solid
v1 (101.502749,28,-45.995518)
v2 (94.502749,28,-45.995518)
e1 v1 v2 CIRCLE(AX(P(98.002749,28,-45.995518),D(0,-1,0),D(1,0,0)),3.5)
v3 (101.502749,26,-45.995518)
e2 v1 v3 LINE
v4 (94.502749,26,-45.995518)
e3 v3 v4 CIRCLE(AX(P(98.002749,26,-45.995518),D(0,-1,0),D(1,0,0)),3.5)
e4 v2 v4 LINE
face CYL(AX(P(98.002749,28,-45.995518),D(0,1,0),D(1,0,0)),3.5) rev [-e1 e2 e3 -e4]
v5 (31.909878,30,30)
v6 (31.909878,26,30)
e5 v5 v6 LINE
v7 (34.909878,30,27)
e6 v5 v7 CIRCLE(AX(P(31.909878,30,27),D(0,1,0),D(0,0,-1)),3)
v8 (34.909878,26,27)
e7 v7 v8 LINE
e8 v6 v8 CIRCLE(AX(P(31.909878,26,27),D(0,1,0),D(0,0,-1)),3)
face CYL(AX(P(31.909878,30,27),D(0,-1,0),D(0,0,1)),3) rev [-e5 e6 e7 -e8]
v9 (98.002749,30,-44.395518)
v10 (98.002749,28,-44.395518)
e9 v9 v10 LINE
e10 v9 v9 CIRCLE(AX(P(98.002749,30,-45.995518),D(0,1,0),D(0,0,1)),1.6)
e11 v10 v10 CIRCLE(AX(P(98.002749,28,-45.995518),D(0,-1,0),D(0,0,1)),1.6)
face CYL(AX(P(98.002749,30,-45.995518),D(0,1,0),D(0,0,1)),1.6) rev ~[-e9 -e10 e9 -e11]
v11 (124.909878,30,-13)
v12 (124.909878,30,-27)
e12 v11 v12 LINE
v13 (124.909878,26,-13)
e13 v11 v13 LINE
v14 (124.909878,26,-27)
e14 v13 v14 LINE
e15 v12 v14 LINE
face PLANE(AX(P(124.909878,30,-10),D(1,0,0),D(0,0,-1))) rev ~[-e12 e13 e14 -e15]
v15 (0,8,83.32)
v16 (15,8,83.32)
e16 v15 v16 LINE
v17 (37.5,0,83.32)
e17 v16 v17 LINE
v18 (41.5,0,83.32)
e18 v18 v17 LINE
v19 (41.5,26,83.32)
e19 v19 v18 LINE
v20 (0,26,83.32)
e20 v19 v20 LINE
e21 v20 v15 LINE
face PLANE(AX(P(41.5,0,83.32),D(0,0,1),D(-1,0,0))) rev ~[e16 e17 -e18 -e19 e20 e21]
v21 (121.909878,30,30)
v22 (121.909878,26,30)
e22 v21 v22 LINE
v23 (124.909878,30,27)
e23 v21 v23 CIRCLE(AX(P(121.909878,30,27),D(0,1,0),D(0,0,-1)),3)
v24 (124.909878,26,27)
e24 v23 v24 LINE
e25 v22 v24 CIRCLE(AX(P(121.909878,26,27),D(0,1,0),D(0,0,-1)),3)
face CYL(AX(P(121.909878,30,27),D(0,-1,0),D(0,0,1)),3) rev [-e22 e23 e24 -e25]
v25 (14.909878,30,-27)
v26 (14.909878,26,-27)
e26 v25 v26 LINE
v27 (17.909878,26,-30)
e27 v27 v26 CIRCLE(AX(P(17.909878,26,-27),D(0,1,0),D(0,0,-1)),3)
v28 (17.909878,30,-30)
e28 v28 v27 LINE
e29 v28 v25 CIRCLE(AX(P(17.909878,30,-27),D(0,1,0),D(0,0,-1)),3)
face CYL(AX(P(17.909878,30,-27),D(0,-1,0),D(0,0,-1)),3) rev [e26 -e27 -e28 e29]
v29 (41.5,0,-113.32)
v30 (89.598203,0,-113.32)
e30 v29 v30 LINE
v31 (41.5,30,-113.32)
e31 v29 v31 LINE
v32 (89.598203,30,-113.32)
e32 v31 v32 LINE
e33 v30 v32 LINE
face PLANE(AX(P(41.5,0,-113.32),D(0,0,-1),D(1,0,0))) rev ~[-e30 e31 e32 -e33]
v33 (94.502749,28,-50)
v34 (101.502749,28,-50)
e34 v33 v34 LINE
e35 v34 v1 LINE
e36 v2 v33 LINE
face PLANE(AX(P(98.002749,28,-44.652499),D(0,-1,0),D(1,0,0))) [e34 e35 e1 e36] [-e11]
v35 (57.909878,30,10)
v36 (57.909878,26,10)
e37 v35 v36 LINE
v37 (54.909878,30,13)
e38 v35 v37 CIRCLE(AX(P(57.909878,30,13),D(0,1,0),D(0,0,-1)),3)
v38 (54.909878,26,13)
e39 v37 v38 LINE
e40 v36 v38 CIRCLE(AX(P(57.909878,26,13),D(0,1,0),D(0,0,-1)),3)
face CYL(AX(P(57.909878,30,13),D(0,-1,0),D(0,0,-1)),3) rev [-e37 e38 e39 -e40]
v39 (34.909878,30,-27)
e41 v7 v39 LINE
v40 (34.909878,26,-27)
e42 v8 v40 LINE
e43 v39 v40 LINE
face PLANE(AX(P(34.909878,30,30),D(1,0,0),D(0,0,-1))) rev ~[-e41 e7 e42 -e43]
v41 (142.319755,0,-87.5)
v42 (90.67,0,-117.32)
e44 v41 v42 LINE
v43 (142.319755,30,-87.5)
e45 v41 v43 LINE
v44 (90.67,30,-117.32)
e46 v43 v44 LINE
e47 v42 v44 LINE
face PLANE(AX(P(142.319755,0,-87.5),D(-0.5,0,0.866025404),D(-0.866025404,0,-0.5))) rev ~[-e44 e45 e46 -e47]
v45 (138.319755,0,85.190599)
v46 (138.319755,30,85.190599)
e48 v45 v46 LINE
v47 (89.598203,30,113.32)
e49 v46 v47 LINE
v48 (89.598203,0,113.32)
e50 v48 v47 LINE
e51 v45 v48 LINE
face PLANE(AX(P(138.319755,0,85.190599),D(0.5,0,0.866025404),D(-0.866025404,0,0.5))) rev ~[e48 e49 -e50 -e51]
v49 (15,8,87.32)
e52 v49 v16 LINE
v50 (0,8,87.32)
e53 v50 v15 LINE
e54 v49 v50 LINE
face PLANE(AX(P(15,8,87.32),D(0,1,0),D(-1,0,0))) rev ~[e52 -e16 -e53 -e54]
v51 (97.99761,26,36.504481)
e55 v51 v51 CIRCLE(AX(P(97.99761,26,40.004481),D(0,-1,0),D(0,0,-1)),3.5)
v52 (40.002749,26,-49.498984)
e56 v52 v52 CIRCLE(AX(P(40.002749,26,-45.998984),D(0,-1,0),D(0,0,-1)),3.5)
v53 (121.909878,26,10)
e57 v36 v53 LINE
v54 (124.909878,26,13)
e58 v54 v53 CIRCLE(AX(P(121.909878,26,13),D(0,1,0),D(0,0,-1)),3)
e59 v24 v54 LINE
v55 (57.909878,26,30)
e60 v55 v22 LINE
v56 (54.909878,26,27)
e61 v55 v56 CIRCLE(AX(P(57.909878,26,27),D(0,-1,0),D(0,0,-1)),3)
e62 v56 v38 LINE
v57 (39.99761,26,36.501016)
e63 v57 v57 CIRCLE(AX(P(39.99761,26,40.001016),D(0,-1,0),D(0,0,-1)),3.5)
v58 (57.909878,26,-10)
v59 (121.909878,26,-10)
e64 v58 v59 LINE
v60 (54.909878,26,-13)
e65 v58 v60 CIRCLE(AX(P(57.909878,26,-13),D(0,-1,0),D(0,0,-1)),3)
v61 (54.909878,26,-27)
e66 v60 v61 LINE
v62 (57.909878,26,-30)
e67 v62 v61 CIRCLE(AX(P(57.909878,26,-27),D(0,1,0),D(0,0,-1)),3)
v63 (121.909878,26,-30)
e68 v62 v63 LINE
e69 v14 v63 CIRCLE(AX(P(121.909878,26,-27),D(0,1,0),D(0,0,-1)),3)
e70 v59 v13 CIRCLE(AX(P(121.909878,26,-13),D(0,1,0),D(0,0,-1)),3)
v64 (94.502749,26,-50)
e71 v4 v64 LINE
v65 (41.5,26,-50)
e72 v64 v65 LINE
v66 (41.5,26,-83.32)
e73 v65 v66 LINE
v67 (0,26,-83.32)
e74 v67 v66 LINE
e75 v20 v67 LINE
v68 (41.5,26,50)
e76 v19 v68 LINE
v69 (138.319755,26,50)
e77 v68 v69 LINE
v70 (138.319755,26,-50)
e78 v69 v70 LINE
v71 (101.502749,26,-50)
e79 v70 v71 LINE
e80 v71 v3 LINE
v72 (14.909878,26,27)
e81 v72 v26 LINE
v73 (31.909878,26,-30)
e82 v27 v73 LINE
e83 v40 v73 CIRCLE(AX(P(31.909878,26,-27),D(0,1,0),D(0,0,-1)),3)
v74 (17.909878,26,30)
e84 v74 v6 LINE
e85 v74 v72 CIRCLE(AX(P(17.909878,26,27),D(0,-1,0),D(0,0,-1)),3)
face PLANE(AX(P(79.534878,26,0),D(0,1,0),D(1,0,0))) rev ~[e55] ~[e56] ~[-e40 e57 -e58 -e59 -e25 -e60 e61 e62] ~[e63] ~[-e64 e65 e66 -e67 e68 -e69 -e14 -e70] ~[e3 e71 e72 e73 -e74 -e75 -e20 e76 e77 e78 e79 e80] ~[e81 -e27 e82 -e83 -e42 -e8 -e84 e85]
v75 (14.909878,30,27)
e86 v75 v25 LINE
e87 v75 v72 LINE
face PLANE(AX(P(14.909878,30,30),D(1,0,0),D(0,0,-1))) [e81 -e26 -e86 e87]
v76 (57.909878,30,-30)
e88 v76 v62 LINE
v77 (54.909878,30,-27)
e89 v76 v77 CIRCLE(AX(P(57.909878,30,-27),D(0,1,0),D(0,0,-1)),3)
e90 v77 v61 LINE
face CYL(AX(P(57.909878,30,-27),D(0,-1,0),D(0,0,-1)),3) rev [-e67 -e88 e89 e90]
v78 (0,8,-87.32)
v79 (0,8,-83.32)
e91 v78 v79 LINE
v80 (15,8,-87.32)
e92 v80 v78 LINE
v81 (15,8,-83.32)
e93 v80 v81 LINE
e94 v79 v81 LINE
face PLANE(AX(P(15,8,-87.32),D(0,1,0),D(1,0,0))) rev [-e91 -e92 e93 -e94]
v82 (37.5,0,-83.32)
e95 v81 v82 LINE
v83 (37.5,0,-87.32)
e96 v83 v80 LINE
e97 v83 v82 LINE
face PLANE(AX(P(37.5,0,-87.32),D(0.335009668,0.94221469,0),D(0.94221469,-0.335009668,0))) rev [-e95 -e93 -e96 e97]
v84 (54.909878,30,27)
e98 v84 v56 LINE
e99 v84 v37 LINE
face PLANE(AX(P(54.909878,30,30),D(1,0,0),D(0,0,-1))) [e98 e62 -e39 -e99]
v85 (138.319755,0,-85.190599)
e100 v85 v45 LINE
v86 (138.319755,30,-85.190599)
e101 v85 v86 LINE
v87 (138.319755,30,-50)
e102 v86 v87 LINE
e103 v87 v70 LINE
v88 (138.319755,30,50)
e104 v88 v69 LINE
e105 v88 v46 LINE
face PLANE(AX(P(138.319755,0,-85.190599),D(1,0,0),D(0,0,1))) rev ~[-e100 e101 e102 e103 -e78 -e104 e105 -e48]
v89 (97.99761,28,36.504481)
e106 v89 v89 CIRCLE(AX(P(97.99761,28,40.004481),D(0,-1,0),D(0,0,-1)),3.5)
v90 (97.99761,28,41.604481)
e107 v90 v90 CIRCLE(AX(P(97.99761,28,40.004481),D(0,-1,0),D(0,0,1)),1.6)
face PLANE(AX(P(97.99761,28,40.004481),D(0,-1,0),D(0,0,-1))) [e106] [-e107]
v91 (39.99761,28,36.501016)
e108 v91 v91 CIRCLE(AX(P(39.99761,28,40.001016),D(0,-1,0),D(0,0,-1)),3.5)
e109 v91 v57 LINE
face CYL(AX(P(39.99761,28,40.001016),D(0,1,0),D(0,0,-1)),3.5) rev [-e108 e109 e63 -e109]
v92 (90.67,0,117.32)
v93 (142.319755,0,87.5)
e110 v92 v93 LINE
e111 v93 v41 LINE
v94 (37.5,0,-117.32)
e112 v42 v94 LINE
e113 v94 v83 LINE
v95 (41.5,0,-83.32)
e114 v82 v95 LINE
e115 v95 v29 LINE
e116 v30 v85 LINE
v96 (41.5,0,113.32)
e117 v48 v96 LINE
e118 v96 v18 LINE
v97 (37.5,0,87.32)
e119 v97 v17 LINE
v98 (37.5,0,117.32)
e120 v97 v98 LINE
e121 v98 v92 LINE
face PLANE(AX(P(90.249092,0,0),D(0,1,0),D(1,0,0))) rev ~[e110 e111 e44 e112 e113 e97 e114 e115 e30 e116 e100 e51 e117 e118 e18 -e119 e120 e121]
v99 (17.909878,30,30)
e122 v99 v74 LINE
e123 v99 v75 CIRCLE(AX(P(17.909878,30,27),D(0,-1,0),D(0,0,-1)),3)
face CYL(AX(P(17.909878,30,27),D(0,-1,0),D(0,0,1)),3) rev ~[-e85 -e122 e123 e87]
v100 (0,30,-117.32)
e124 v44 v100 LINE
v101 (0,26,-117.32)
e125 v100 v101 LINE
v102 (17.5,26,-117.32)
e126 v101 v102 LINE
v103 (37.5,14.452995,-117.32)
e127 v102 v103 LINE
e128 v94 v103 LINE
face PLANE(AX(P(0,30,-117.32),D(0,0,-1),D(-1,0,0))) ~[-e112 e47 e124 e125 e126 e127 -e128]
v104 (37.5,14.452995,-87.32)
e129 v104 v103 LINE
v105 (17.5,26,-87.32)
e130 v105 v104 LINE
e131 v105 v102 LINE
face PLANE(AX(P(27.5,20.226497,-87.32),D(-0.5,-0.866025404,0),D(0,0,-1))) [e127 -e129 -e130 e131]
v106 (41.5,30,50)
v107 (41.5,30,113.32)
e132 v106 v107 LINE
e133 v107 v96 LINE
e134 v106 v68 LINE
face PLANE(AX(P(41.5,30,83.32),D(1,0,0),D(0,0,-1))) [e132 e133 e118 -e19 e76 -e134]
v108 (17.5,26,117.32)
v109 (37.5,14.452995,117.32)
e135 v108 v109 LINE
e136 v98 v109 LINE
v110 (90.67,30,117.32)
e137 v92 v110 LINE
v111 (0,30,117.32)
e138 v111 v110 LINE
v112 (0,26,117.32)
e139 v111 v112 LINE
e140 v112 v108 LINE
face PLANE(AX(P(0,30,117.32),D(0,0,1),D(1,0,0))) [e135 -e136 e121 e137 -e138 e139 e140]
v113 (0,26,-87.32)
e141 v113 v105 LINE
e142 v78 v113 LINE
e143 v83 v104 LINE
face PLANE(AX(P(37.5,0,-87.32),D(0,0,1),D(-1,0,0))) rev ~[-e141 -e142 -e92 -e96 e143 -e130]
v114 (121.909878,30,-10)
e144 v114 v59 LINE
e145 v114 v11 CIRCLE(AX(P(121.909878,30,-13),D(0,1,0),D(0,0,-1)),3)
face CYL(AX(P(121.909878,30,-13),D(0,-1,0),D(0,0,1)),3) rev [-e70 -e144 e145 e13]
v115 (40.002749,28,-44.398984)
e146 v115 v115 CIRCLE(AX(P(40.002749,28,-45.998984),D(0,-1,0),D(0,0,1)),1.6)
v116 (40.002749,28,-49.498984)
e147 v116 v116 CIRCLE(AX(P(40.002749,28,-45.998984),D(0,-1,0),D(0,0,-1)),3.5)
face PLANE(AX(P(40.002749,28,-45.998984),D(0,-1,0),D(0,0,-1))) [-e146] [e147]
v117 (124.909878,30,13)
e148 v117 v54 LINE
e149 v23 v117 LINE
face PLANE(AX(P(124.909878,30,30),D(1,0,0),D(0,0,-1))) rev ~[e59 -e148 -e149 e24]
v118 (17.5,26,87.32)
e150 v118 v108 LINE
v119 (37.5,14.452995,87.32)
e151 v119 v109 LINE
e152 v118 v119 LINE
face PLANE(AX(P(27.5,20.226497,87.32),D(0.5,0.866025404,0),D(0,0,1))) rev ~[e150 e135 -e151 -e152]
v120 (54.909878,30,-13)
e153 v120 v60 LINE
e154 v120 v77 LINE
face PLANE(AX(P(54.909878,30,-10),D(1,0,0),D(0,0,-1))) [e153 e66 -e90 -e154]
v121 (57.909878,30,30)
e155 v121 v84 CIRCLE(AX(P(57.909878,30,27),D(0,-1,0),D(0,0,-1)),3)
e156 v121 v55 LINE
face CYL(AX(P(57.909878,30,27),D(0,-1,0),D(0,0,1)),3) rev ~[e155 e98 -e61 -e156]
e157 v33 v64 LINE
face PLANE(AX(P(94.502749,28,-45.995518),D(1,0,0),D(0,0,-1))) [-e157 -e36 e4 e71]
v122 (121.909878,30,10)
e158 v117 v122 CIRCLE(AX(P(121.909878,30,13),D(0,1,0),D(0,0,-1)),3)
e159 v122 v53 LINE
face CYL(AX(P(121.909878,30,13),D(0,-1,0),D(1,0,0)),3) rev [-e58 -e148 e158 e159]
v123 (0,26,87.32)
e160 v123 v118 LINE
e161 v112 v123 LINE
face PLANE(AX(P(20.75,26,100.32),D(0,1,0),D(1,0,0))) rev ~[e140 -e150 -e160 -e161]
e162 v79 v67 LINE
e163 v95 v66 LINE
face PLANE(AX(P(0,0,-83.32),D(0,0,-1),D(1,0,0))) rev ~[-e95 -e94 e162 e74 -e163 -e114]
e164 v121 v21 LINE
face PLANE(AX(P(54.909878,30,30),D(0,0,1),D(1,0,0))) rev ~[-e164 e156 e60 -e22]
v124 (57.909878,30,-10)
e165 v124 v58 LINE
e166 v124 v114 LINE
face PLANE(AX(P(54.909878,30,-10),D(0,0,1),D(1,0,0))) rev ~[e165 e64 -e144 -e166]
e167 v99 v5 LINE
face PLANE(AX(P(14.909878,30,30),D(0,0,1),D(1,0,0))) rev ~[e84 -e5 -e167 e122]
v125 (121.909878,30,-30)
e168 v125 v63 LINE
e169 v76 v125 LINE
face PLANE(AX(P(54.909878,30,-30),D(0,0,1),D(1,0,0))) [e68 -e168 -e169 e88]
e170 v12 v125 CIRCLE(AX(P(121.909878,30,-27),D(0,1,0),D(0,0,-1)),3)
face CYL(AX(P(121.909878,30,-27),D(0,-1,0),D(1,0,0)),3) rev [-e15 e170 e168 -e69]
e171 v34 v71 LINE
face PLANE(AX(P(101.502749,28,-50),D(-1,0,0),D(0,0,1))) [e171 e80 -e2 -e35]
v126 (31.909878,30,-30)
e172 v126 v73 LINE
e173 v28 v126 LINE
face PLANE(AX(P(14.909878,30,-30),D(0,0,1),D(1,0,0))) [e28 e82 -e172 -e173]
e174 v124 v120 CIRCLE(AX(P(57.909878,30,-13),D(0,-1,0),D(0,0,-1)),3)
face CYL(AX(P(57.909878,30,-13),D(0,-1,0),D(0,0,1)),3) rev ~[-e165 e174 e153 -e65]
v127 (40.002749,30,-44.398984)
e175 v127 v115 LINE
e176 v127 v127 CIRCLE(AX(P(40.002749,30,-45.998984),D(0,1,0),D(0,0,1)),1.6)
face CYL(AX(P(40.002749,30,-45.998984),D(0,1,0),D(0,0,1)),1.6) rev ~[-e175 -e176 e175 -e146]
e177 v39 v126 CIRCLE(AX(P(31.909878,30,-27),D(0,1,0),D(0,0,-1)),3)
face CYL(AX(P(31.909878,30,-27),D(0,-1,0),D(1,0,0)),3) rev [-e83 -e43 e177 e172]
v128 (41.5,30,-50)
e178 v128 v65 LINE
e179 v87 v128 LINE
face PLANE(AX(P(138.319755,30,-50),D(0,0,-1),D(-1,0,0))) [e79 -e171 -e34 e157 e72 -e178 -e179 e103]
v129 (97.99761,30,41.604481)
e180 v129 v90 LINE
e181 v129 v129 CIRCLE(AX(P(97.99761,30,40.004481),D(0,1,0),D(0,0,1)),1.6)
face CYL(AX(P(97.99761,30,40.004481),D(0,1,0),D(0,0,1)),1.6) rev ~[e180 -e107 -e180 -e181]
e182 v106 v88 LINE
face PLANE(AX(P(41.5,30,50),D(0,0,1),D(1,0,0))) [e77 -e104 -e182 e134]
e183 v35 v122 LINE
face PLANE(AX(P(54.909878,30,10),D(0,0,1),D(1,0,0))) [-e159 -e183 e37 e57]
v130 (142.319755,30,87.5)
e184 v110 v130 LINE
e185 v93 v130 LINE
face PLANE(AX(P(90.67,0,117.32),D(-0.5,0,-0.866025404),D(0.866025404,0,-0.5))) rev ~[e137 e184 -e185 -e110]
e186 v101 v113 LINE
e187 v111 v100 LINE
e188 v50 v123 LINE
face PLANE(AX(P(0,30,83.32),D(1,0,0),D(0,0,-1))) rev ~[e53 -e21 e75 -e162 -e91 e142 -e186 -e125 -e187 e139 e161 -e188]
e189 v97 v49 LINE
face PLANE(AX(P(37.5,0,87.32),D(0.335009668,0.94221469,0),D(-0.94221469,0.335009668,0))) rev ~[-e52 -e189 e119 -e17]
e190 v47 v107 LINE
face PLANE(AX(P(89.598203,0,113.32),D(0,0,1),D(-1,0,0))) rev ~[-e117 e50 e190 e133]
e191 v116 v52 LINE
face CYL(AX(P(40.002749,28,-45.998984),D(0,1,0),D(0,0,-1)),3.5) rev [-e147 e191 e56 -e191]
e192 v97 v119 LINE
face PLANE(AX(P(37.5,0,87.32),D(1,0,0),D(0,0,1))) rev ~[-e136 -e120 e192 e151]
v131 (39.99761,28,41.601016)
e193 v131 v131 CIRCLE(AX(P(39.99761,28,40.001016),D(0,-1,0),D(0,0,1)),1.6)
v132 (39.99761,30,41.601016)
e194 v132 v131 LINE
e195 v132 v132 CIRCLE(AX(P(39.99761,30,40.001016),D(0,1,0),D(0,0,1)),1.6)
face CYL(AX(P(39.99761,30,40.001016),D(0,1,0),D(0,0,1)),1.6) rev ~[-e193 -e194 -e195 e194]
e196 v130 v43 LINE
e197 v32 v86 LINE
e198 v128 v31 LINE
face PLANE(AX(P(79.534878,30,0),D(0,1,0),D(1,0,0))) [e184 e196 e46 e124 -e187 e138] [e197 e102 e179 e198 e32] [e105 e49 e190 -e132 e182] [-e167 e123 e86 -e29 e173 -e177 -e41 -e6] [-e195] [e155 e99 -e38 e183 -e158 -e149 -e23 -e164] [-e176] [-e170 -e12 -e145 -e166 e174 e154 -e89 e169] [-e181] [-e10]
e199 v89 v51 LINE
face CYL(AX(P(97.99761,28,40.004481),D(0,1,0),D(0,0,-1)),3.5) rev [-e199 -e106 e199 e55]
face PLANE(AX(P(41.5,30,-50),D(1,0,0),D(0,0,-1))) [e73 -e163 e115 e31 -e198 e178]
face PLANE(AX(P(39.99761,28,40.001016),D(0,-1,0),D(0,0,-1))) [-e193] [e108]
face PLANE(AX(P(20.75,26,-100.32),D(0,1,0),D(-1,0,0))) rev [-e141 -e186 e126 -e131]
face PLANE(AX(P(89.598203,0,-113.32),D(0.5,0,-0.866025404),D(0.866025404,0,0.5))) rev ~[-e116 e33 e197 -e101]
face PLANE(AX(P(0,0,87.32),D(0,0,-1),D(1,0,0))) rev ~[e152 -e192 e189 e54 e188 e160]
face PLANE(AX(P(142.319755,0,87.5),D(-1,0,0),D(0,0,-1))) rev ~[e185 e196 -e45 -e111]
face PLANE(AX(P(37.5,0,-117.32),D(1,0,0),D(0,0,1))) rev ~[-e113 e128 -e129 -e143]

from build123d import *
from OCP.BRepFilletAPI import BRepFilletAPI_MakeChamfer

# Parameters (mm, degrees)
BOSS_EXTRUDE1_DEPTH = 30
CUT_EXTRUDE1_REACH  = 253.063
SKETCH10_W          = 41.5
SKETCH10_H          = 34
BOSS_EXTRUDE3_DEPTH = 4
CHAMFER4_SIZE       = 20
CHAMFER4_SIZE2      = 11.547005384
SKETCH11_W          = 20.75
SKETCH11_H          = 166.64
BOSS_EXTRUDE4_DEPTH = 4
SKETCH12_W          = 20.75
SKETCH12_H          = 33.32
BOSS_EXTRUDE5_DEPTH = 4
SKETCH13_W          = 20
SKETCH13_H          = 60
SKETCH13_W_2        = 70
SKETCH13_H_2        = 20
CUT_EXTRUDE2_DEPTH  = 4
FILLET2_R           = 3
SKETCH14_R          = 1.6
CUT_EXTRUDE3_DEPTH  = 4
CUT_EXTRUDE4_START  = -2
SKETCH15_R          = 3.5
SKETCH15_R_2        = 1.6
CUT_EXTRUDE4_DEPTH  = 2


with BuildPart() as part:
    # Sketch6 → Boss-Extrude1 (new body)
    with BuildSketch(Plane(origin=(0, 0, 0), x_dir=(1, 0, 0), z_dir=(0, 1, 0))):
        Polygon((0, -87.32), (37.5, -87.32), (37.5, -117.32), (90.67, -117.32), (142.319755082, -87.5), (142.319755082, 87.5), (90.67, 117.32), (37.5, 117.32), (37.5, 87.32), (0, 87.32), (0, 83.32), (41.5, 83.32), (41.5, 113.32), (89.59820323, 113.32), (138.319755082, 85.190598923), (138.319755082, -85.190598923), (89.59820323, -113.32), (41.5, -113.32), (41.5, -83.32), (0, -83.32), align=None)
    extrude(amount=BOSS_EXTRUDE1_DEPTH)

    # Sketch9 → Cut-Extrude1 (cut, up to next)
    with BuildSketch(Plane.XY.offset(87.32), mode=Mode.PRIVATE) as cut_extrude1_sk1:
        Polygon((37.5, 0), (15, 8), (0, 8), (0, 0), align=None)
    cut_extrude1_tool1 = extrude(cut_extrude1_sk1.sketch, amount=-CUT_EXTRUDE1_REACH, mode=Mode.PRIVATE) & part.part
    cut_extrude1 = cut_extrude1_tool1.solids().sort_by_distance((13.928571, 3.428571, 87.32))[0]
    add(cut_extrude1, mode=Mode.SUBTRACT)

    # Sketch10 → Boss-Extrude3 (add)
    with BuildSketch(Plane(origin=(0, 30, 0), x_dir=(1, 0, 0), z_dir=(0, 1, 0))):
        with Locations((20.75, -100.32)):
            Rectangle(SKETCH10_W, SKETCH10_H)
    boss_extrude3 = extrude(amount=-BOSS_EXTRUDE3_DEPTH)

    # Mirror1: Cut-Extrude1, Boss-Extrude3 across plane
    add(cut_extrude1.mirror(Plane.XY), mode=Mode.SUBTRACT)
    add(boss_extrude3.mirror(Plane.XY))

    # Chamfer4: one chamfer whose edges measure the first distance from different faces: ONE call of the kernel's chamfer builder (chamfer() names one face for all edges)
    chamfer4_edges_1 = [part.edges().sort_by_distance(p)[0] for p in [
        (37.5, 26, -102.32),
    ]]
    chamfer4_side_1 = [part.faces().sort_by_distance(p)[0] for p in [
        (18.75, 26, -102.32),
    ]]
    chamfer4_edges_2 = [part.edges().sort_by_distance(p)[0] for p in [
        (37.5, 26, 102.32),
    ]]
    chamfer4_side_2 = [part.faces().sort_by_distance(p)[0] for p in [
        (18.75, 26, 102.32),
    ]]
    chamfer4 = BRepFilletAPI_MakeChamfer(part.part.solid().wrapped)
    for e in chamfer4_edges_1:
        chamfer4.Add(CHAMFER4_SIZE, CHAMFER4_SIZE2, e.wrapped, chamfer4_side_1[0].wrapped)  # the first distance lies on this face
    for e in chamfer4_edges_2:
        chamfer4.Add(CHAMFER4_SIZE, CHAMFER4_SIZE2, e.wrapped, chamfer4_side_2[0].wrapped)  # the first distance lies on this face
    add(Compound.cast(chamfer4.Shape()), mode=Mode.REPLACE)

    # Sketch11 → Boss-Extrude4 (add)
    with BuildSketch(Plane(origin=(0, 30, 0), x_dir=(1, 0, 0), z_dir=(0, 1, 0))):
        with Locations((10.375, 0)):
            Rectangle(SKETCH11_W, SKETCH11_H)
    extrude(amount=-BOSS_EXTRUDE4_DEPTH)

    # Sketch12 → Boss-Extrude5 (add)
    with BuildSketch(Plane(origin=(0, 30, 0), x_dir=(1, 0, 0), z_dir=(0, 1, 0))):
        Polygon((41.5, 50), (20.75, 50), (20.75, -50), (41.5, -50), (138.319755082, -50), (138.319755082, 50), align=None)
        with Locations((31.125, -66.66)):
            Rectangle(SKETCH12_W, SKETCH12_H)
        with Locations((31.125, 66.66)):
            Rectangle(SKETCH12_W, SKETCH12_H)
    extrude(amount=-BOSS_EXTRUDE5_DEPTH)

    # Sketch13 → Cut-Extrude2 (cut)
    with BuildSketch(Plane(origin=(0, 30, 0), x_dir=(1, 0, 0), z_dir=(0, 1, 0))):
        with Locations((24.909877541, 0)):
            Rectangle(SKETCH13_W, SKETCH13_H)
        with Locations((89.909877541, 20)):
            Rectangle(SKETCH13_W_2, SKETCH13_H_2)
        with Locations((89.909877541, -20)):
            Rectangle(SKETCH13_W_2, SKETCH13_H_2)
    extrude(amount=-CUT_EXTRUDE2_DEPTH, mode=Mode.SUBTRACT)

    # Fillet2
    fillet2_edges = [part.edges().sort_by_distance(p)[0] for p in [
        (54.909877541, 28, 30),
        (54.909877541, 28, 10),
        (124.909877541, 28, 10),
        (124.909877541, 28, 30),
        (34.909877541, 28, -30),
        (34.909877541, 28, 30),
        (14.909877541, 28, 30),
        (14.909877541, 28, -30),
        (54.909877541, 28, -10),
        (54.909877541, 28, -30),
        (124.909877541, 28, -30),
        (124.909877541, 28, -10),
    ]]
    fillet(fillet2_edges, radius=FILLET2_R)

    # Sketch14 → Cut-Extrude3 (cut)
    with BuildSketch(Plane(origin=(0, 30, 0), x_dir=(1, 0, 0), z_dir=(0, 1, 0))):
        with Locations(Location((39.997609887, -40.001015731, 0), (0, 0, 270))):
            Circle(SKETCH14_R)
        with Locations(Location((97.997609783, -40.004481411, 0), (0, 0, 270))):
            Circle(SKETCH14_R)
        with Locations(Location((40.002748653, 45.998984115, 0), (0, 0, 270))):
            Circle(SKETCH14_R)
        with Locations(Location((98.00274855, 45.995518435, 0), (0, 0, 270))):
            Circle(SKETCH14_R)
    extrude(amount=-CUT_EXTRUDE3_DEPTH, mode=Mode.SUBTRACT)

    # Sketch15 → Cut-Extrude4 (cut)
    # profile 1 of 8: a face of its own
    with BuildSketch(Plane.XZ.offset(-26).offset(CUT_EXTRUDE4_START)):
        with Locations(Location((40.002748653, -45.998984115, 0), (0, 0, 270))):
            Circle(SKETCH15_R)
        with Locations(Location((40.002748653, -45.998984115, 0), (0, 0, 90))):
            Circle(SKETCH15_R_2, mode=Mode.SUBTRACT)
    # profile 2 of 8: a face of its own
    with BuildSketch(Plane.XZ.offset(-26).offset(CUT_EXTRUDE4_START)):
        with BuildLine():
            Line((101.50274855, -50), (101.50274855, -45.995518435))
            ThreePointArc((101.50274855, -45.995518435), (98.00274855, -49.495518435), (94.50274855, -45.995518435))
            Line((94.50274855, -45.995518435), (94.50274855, -50))
            Line((94.50274855, -50), (101.50274855, -50))
        make_face()
    # profile 3 of 8: a face of its own
    with BuildSketch(Plane.XZ.offset(-26).offset(CUT_EXTRUDE4_START)):
        with BuildLine():
            ThreePointArc((94.50274855, -45.995518435), (98.00274855, -49.495518435), (101.50274855, -45.995518435))
            Line((101.50274855, -45.995518435), (99.60274855, -45.995518435))
            ThreePointArc((99.60274855, -45.995518435), (98.00274855, -47.595518435), (96.40274855, -45.995518435))
            Line((96.40274855, -45.995518435), (94.50274855, -45.995518435))
        make_face()
    # profile 4 of 8: a face of its own
    with BuildSketch(Plane.XZ.offset(-26).offset(CUT_EXTRUDE4_START)):
        with BuildLine():
            Line((99.60274855, -45.995518435), (101.50274855, -45.995518435))
            ThreePointArc((101.50274855, -45.995518435), (98.00274855, -42.495518435), (94.50274855, -45.995518435))
            Line((94.50274855, -45.995518435), (96.40274855, -45.995518435))
            ThreePointArc((96.40274855, -45.995518435), (98.00274855, -44.395518435), (99.60274855, -45.995518435))
        make_face()
    # profile 5 of 8: a face of its own
    with BuildSketch(Plane.XZ.offset(-26).offset(CUT_EXTRUDE4_START)):
        with BuildLine():
            ThreePointArc((94.50274855, -45.995518435), (98.00274855, -49.495518435), (101.50274855, -45.995518435))
            Line((101.50274855, -45.995518435), (99.60274855, -45.995518435))
            ThreePointArc((99.60274855, -45.995518435), (98.00274855, -47.595518435), (96.40274855, -45.995518435))
            Line((96.40274855, -45.995518435), (94.50274855, -45.995518435))
        make_face()
    # profile 6 of 8: a face of its own
    with BuildSketch(Plane.XZ.offset(-26).offset(CUT_EXTRUDE4_START)):
        with BuildLine():
            Line((99.60274855, -45.995518435), (101.50274855, -45.995518435))
            ThreePointArc((101.50274855, -45.995518435), (98.00274855, -42.495518435), (94.50274855, -45.995518435))
            Line((94.50274855, -45.995518435), (96.40274855, -45.995518435))
            ThreePointArc((96.40274855, -45.995518435), (98.00274855, -44.395518435), (99.60274855, -45.995518435))
        make_face()
    # profile 7 of 8: a face of its own
    with BuildSketch(Plane.XZ.offset(-26).offset(CUT_EXTRUDE4_START)):
        with Locations(Location((97.997609783, 40.004481411, 0), (0, 0, 270))):
            Circle(SKETCH15_R)
        with Locations(Location((97.997609783, 40.004481411, 0), (0, 0, 90))):
            Circle(SKETCH15_R_2, mode=Mode.SUBTRACT)
    # profile 8 of 8: a face of its own
    with BuildSketch(Plane.XZ.offset(-26).offset(CUT_EXTRUDE4_START)):
        with Locations(Location((39.997609887, 40.001015731, 0), (0, 0, 270))):
            Circle(SKETCH15_R)
        with Locations(Location((39.997609887, 40.001015731, 0), (0, 0, 90))):
            Circle(SKETCH15_R_2, mode=Mode.SUBTRACT)
    extrude(amount=CUT_EXTRUDE4_DEPTH, mode=Mode.SUBTRACT)


solid = part.part
